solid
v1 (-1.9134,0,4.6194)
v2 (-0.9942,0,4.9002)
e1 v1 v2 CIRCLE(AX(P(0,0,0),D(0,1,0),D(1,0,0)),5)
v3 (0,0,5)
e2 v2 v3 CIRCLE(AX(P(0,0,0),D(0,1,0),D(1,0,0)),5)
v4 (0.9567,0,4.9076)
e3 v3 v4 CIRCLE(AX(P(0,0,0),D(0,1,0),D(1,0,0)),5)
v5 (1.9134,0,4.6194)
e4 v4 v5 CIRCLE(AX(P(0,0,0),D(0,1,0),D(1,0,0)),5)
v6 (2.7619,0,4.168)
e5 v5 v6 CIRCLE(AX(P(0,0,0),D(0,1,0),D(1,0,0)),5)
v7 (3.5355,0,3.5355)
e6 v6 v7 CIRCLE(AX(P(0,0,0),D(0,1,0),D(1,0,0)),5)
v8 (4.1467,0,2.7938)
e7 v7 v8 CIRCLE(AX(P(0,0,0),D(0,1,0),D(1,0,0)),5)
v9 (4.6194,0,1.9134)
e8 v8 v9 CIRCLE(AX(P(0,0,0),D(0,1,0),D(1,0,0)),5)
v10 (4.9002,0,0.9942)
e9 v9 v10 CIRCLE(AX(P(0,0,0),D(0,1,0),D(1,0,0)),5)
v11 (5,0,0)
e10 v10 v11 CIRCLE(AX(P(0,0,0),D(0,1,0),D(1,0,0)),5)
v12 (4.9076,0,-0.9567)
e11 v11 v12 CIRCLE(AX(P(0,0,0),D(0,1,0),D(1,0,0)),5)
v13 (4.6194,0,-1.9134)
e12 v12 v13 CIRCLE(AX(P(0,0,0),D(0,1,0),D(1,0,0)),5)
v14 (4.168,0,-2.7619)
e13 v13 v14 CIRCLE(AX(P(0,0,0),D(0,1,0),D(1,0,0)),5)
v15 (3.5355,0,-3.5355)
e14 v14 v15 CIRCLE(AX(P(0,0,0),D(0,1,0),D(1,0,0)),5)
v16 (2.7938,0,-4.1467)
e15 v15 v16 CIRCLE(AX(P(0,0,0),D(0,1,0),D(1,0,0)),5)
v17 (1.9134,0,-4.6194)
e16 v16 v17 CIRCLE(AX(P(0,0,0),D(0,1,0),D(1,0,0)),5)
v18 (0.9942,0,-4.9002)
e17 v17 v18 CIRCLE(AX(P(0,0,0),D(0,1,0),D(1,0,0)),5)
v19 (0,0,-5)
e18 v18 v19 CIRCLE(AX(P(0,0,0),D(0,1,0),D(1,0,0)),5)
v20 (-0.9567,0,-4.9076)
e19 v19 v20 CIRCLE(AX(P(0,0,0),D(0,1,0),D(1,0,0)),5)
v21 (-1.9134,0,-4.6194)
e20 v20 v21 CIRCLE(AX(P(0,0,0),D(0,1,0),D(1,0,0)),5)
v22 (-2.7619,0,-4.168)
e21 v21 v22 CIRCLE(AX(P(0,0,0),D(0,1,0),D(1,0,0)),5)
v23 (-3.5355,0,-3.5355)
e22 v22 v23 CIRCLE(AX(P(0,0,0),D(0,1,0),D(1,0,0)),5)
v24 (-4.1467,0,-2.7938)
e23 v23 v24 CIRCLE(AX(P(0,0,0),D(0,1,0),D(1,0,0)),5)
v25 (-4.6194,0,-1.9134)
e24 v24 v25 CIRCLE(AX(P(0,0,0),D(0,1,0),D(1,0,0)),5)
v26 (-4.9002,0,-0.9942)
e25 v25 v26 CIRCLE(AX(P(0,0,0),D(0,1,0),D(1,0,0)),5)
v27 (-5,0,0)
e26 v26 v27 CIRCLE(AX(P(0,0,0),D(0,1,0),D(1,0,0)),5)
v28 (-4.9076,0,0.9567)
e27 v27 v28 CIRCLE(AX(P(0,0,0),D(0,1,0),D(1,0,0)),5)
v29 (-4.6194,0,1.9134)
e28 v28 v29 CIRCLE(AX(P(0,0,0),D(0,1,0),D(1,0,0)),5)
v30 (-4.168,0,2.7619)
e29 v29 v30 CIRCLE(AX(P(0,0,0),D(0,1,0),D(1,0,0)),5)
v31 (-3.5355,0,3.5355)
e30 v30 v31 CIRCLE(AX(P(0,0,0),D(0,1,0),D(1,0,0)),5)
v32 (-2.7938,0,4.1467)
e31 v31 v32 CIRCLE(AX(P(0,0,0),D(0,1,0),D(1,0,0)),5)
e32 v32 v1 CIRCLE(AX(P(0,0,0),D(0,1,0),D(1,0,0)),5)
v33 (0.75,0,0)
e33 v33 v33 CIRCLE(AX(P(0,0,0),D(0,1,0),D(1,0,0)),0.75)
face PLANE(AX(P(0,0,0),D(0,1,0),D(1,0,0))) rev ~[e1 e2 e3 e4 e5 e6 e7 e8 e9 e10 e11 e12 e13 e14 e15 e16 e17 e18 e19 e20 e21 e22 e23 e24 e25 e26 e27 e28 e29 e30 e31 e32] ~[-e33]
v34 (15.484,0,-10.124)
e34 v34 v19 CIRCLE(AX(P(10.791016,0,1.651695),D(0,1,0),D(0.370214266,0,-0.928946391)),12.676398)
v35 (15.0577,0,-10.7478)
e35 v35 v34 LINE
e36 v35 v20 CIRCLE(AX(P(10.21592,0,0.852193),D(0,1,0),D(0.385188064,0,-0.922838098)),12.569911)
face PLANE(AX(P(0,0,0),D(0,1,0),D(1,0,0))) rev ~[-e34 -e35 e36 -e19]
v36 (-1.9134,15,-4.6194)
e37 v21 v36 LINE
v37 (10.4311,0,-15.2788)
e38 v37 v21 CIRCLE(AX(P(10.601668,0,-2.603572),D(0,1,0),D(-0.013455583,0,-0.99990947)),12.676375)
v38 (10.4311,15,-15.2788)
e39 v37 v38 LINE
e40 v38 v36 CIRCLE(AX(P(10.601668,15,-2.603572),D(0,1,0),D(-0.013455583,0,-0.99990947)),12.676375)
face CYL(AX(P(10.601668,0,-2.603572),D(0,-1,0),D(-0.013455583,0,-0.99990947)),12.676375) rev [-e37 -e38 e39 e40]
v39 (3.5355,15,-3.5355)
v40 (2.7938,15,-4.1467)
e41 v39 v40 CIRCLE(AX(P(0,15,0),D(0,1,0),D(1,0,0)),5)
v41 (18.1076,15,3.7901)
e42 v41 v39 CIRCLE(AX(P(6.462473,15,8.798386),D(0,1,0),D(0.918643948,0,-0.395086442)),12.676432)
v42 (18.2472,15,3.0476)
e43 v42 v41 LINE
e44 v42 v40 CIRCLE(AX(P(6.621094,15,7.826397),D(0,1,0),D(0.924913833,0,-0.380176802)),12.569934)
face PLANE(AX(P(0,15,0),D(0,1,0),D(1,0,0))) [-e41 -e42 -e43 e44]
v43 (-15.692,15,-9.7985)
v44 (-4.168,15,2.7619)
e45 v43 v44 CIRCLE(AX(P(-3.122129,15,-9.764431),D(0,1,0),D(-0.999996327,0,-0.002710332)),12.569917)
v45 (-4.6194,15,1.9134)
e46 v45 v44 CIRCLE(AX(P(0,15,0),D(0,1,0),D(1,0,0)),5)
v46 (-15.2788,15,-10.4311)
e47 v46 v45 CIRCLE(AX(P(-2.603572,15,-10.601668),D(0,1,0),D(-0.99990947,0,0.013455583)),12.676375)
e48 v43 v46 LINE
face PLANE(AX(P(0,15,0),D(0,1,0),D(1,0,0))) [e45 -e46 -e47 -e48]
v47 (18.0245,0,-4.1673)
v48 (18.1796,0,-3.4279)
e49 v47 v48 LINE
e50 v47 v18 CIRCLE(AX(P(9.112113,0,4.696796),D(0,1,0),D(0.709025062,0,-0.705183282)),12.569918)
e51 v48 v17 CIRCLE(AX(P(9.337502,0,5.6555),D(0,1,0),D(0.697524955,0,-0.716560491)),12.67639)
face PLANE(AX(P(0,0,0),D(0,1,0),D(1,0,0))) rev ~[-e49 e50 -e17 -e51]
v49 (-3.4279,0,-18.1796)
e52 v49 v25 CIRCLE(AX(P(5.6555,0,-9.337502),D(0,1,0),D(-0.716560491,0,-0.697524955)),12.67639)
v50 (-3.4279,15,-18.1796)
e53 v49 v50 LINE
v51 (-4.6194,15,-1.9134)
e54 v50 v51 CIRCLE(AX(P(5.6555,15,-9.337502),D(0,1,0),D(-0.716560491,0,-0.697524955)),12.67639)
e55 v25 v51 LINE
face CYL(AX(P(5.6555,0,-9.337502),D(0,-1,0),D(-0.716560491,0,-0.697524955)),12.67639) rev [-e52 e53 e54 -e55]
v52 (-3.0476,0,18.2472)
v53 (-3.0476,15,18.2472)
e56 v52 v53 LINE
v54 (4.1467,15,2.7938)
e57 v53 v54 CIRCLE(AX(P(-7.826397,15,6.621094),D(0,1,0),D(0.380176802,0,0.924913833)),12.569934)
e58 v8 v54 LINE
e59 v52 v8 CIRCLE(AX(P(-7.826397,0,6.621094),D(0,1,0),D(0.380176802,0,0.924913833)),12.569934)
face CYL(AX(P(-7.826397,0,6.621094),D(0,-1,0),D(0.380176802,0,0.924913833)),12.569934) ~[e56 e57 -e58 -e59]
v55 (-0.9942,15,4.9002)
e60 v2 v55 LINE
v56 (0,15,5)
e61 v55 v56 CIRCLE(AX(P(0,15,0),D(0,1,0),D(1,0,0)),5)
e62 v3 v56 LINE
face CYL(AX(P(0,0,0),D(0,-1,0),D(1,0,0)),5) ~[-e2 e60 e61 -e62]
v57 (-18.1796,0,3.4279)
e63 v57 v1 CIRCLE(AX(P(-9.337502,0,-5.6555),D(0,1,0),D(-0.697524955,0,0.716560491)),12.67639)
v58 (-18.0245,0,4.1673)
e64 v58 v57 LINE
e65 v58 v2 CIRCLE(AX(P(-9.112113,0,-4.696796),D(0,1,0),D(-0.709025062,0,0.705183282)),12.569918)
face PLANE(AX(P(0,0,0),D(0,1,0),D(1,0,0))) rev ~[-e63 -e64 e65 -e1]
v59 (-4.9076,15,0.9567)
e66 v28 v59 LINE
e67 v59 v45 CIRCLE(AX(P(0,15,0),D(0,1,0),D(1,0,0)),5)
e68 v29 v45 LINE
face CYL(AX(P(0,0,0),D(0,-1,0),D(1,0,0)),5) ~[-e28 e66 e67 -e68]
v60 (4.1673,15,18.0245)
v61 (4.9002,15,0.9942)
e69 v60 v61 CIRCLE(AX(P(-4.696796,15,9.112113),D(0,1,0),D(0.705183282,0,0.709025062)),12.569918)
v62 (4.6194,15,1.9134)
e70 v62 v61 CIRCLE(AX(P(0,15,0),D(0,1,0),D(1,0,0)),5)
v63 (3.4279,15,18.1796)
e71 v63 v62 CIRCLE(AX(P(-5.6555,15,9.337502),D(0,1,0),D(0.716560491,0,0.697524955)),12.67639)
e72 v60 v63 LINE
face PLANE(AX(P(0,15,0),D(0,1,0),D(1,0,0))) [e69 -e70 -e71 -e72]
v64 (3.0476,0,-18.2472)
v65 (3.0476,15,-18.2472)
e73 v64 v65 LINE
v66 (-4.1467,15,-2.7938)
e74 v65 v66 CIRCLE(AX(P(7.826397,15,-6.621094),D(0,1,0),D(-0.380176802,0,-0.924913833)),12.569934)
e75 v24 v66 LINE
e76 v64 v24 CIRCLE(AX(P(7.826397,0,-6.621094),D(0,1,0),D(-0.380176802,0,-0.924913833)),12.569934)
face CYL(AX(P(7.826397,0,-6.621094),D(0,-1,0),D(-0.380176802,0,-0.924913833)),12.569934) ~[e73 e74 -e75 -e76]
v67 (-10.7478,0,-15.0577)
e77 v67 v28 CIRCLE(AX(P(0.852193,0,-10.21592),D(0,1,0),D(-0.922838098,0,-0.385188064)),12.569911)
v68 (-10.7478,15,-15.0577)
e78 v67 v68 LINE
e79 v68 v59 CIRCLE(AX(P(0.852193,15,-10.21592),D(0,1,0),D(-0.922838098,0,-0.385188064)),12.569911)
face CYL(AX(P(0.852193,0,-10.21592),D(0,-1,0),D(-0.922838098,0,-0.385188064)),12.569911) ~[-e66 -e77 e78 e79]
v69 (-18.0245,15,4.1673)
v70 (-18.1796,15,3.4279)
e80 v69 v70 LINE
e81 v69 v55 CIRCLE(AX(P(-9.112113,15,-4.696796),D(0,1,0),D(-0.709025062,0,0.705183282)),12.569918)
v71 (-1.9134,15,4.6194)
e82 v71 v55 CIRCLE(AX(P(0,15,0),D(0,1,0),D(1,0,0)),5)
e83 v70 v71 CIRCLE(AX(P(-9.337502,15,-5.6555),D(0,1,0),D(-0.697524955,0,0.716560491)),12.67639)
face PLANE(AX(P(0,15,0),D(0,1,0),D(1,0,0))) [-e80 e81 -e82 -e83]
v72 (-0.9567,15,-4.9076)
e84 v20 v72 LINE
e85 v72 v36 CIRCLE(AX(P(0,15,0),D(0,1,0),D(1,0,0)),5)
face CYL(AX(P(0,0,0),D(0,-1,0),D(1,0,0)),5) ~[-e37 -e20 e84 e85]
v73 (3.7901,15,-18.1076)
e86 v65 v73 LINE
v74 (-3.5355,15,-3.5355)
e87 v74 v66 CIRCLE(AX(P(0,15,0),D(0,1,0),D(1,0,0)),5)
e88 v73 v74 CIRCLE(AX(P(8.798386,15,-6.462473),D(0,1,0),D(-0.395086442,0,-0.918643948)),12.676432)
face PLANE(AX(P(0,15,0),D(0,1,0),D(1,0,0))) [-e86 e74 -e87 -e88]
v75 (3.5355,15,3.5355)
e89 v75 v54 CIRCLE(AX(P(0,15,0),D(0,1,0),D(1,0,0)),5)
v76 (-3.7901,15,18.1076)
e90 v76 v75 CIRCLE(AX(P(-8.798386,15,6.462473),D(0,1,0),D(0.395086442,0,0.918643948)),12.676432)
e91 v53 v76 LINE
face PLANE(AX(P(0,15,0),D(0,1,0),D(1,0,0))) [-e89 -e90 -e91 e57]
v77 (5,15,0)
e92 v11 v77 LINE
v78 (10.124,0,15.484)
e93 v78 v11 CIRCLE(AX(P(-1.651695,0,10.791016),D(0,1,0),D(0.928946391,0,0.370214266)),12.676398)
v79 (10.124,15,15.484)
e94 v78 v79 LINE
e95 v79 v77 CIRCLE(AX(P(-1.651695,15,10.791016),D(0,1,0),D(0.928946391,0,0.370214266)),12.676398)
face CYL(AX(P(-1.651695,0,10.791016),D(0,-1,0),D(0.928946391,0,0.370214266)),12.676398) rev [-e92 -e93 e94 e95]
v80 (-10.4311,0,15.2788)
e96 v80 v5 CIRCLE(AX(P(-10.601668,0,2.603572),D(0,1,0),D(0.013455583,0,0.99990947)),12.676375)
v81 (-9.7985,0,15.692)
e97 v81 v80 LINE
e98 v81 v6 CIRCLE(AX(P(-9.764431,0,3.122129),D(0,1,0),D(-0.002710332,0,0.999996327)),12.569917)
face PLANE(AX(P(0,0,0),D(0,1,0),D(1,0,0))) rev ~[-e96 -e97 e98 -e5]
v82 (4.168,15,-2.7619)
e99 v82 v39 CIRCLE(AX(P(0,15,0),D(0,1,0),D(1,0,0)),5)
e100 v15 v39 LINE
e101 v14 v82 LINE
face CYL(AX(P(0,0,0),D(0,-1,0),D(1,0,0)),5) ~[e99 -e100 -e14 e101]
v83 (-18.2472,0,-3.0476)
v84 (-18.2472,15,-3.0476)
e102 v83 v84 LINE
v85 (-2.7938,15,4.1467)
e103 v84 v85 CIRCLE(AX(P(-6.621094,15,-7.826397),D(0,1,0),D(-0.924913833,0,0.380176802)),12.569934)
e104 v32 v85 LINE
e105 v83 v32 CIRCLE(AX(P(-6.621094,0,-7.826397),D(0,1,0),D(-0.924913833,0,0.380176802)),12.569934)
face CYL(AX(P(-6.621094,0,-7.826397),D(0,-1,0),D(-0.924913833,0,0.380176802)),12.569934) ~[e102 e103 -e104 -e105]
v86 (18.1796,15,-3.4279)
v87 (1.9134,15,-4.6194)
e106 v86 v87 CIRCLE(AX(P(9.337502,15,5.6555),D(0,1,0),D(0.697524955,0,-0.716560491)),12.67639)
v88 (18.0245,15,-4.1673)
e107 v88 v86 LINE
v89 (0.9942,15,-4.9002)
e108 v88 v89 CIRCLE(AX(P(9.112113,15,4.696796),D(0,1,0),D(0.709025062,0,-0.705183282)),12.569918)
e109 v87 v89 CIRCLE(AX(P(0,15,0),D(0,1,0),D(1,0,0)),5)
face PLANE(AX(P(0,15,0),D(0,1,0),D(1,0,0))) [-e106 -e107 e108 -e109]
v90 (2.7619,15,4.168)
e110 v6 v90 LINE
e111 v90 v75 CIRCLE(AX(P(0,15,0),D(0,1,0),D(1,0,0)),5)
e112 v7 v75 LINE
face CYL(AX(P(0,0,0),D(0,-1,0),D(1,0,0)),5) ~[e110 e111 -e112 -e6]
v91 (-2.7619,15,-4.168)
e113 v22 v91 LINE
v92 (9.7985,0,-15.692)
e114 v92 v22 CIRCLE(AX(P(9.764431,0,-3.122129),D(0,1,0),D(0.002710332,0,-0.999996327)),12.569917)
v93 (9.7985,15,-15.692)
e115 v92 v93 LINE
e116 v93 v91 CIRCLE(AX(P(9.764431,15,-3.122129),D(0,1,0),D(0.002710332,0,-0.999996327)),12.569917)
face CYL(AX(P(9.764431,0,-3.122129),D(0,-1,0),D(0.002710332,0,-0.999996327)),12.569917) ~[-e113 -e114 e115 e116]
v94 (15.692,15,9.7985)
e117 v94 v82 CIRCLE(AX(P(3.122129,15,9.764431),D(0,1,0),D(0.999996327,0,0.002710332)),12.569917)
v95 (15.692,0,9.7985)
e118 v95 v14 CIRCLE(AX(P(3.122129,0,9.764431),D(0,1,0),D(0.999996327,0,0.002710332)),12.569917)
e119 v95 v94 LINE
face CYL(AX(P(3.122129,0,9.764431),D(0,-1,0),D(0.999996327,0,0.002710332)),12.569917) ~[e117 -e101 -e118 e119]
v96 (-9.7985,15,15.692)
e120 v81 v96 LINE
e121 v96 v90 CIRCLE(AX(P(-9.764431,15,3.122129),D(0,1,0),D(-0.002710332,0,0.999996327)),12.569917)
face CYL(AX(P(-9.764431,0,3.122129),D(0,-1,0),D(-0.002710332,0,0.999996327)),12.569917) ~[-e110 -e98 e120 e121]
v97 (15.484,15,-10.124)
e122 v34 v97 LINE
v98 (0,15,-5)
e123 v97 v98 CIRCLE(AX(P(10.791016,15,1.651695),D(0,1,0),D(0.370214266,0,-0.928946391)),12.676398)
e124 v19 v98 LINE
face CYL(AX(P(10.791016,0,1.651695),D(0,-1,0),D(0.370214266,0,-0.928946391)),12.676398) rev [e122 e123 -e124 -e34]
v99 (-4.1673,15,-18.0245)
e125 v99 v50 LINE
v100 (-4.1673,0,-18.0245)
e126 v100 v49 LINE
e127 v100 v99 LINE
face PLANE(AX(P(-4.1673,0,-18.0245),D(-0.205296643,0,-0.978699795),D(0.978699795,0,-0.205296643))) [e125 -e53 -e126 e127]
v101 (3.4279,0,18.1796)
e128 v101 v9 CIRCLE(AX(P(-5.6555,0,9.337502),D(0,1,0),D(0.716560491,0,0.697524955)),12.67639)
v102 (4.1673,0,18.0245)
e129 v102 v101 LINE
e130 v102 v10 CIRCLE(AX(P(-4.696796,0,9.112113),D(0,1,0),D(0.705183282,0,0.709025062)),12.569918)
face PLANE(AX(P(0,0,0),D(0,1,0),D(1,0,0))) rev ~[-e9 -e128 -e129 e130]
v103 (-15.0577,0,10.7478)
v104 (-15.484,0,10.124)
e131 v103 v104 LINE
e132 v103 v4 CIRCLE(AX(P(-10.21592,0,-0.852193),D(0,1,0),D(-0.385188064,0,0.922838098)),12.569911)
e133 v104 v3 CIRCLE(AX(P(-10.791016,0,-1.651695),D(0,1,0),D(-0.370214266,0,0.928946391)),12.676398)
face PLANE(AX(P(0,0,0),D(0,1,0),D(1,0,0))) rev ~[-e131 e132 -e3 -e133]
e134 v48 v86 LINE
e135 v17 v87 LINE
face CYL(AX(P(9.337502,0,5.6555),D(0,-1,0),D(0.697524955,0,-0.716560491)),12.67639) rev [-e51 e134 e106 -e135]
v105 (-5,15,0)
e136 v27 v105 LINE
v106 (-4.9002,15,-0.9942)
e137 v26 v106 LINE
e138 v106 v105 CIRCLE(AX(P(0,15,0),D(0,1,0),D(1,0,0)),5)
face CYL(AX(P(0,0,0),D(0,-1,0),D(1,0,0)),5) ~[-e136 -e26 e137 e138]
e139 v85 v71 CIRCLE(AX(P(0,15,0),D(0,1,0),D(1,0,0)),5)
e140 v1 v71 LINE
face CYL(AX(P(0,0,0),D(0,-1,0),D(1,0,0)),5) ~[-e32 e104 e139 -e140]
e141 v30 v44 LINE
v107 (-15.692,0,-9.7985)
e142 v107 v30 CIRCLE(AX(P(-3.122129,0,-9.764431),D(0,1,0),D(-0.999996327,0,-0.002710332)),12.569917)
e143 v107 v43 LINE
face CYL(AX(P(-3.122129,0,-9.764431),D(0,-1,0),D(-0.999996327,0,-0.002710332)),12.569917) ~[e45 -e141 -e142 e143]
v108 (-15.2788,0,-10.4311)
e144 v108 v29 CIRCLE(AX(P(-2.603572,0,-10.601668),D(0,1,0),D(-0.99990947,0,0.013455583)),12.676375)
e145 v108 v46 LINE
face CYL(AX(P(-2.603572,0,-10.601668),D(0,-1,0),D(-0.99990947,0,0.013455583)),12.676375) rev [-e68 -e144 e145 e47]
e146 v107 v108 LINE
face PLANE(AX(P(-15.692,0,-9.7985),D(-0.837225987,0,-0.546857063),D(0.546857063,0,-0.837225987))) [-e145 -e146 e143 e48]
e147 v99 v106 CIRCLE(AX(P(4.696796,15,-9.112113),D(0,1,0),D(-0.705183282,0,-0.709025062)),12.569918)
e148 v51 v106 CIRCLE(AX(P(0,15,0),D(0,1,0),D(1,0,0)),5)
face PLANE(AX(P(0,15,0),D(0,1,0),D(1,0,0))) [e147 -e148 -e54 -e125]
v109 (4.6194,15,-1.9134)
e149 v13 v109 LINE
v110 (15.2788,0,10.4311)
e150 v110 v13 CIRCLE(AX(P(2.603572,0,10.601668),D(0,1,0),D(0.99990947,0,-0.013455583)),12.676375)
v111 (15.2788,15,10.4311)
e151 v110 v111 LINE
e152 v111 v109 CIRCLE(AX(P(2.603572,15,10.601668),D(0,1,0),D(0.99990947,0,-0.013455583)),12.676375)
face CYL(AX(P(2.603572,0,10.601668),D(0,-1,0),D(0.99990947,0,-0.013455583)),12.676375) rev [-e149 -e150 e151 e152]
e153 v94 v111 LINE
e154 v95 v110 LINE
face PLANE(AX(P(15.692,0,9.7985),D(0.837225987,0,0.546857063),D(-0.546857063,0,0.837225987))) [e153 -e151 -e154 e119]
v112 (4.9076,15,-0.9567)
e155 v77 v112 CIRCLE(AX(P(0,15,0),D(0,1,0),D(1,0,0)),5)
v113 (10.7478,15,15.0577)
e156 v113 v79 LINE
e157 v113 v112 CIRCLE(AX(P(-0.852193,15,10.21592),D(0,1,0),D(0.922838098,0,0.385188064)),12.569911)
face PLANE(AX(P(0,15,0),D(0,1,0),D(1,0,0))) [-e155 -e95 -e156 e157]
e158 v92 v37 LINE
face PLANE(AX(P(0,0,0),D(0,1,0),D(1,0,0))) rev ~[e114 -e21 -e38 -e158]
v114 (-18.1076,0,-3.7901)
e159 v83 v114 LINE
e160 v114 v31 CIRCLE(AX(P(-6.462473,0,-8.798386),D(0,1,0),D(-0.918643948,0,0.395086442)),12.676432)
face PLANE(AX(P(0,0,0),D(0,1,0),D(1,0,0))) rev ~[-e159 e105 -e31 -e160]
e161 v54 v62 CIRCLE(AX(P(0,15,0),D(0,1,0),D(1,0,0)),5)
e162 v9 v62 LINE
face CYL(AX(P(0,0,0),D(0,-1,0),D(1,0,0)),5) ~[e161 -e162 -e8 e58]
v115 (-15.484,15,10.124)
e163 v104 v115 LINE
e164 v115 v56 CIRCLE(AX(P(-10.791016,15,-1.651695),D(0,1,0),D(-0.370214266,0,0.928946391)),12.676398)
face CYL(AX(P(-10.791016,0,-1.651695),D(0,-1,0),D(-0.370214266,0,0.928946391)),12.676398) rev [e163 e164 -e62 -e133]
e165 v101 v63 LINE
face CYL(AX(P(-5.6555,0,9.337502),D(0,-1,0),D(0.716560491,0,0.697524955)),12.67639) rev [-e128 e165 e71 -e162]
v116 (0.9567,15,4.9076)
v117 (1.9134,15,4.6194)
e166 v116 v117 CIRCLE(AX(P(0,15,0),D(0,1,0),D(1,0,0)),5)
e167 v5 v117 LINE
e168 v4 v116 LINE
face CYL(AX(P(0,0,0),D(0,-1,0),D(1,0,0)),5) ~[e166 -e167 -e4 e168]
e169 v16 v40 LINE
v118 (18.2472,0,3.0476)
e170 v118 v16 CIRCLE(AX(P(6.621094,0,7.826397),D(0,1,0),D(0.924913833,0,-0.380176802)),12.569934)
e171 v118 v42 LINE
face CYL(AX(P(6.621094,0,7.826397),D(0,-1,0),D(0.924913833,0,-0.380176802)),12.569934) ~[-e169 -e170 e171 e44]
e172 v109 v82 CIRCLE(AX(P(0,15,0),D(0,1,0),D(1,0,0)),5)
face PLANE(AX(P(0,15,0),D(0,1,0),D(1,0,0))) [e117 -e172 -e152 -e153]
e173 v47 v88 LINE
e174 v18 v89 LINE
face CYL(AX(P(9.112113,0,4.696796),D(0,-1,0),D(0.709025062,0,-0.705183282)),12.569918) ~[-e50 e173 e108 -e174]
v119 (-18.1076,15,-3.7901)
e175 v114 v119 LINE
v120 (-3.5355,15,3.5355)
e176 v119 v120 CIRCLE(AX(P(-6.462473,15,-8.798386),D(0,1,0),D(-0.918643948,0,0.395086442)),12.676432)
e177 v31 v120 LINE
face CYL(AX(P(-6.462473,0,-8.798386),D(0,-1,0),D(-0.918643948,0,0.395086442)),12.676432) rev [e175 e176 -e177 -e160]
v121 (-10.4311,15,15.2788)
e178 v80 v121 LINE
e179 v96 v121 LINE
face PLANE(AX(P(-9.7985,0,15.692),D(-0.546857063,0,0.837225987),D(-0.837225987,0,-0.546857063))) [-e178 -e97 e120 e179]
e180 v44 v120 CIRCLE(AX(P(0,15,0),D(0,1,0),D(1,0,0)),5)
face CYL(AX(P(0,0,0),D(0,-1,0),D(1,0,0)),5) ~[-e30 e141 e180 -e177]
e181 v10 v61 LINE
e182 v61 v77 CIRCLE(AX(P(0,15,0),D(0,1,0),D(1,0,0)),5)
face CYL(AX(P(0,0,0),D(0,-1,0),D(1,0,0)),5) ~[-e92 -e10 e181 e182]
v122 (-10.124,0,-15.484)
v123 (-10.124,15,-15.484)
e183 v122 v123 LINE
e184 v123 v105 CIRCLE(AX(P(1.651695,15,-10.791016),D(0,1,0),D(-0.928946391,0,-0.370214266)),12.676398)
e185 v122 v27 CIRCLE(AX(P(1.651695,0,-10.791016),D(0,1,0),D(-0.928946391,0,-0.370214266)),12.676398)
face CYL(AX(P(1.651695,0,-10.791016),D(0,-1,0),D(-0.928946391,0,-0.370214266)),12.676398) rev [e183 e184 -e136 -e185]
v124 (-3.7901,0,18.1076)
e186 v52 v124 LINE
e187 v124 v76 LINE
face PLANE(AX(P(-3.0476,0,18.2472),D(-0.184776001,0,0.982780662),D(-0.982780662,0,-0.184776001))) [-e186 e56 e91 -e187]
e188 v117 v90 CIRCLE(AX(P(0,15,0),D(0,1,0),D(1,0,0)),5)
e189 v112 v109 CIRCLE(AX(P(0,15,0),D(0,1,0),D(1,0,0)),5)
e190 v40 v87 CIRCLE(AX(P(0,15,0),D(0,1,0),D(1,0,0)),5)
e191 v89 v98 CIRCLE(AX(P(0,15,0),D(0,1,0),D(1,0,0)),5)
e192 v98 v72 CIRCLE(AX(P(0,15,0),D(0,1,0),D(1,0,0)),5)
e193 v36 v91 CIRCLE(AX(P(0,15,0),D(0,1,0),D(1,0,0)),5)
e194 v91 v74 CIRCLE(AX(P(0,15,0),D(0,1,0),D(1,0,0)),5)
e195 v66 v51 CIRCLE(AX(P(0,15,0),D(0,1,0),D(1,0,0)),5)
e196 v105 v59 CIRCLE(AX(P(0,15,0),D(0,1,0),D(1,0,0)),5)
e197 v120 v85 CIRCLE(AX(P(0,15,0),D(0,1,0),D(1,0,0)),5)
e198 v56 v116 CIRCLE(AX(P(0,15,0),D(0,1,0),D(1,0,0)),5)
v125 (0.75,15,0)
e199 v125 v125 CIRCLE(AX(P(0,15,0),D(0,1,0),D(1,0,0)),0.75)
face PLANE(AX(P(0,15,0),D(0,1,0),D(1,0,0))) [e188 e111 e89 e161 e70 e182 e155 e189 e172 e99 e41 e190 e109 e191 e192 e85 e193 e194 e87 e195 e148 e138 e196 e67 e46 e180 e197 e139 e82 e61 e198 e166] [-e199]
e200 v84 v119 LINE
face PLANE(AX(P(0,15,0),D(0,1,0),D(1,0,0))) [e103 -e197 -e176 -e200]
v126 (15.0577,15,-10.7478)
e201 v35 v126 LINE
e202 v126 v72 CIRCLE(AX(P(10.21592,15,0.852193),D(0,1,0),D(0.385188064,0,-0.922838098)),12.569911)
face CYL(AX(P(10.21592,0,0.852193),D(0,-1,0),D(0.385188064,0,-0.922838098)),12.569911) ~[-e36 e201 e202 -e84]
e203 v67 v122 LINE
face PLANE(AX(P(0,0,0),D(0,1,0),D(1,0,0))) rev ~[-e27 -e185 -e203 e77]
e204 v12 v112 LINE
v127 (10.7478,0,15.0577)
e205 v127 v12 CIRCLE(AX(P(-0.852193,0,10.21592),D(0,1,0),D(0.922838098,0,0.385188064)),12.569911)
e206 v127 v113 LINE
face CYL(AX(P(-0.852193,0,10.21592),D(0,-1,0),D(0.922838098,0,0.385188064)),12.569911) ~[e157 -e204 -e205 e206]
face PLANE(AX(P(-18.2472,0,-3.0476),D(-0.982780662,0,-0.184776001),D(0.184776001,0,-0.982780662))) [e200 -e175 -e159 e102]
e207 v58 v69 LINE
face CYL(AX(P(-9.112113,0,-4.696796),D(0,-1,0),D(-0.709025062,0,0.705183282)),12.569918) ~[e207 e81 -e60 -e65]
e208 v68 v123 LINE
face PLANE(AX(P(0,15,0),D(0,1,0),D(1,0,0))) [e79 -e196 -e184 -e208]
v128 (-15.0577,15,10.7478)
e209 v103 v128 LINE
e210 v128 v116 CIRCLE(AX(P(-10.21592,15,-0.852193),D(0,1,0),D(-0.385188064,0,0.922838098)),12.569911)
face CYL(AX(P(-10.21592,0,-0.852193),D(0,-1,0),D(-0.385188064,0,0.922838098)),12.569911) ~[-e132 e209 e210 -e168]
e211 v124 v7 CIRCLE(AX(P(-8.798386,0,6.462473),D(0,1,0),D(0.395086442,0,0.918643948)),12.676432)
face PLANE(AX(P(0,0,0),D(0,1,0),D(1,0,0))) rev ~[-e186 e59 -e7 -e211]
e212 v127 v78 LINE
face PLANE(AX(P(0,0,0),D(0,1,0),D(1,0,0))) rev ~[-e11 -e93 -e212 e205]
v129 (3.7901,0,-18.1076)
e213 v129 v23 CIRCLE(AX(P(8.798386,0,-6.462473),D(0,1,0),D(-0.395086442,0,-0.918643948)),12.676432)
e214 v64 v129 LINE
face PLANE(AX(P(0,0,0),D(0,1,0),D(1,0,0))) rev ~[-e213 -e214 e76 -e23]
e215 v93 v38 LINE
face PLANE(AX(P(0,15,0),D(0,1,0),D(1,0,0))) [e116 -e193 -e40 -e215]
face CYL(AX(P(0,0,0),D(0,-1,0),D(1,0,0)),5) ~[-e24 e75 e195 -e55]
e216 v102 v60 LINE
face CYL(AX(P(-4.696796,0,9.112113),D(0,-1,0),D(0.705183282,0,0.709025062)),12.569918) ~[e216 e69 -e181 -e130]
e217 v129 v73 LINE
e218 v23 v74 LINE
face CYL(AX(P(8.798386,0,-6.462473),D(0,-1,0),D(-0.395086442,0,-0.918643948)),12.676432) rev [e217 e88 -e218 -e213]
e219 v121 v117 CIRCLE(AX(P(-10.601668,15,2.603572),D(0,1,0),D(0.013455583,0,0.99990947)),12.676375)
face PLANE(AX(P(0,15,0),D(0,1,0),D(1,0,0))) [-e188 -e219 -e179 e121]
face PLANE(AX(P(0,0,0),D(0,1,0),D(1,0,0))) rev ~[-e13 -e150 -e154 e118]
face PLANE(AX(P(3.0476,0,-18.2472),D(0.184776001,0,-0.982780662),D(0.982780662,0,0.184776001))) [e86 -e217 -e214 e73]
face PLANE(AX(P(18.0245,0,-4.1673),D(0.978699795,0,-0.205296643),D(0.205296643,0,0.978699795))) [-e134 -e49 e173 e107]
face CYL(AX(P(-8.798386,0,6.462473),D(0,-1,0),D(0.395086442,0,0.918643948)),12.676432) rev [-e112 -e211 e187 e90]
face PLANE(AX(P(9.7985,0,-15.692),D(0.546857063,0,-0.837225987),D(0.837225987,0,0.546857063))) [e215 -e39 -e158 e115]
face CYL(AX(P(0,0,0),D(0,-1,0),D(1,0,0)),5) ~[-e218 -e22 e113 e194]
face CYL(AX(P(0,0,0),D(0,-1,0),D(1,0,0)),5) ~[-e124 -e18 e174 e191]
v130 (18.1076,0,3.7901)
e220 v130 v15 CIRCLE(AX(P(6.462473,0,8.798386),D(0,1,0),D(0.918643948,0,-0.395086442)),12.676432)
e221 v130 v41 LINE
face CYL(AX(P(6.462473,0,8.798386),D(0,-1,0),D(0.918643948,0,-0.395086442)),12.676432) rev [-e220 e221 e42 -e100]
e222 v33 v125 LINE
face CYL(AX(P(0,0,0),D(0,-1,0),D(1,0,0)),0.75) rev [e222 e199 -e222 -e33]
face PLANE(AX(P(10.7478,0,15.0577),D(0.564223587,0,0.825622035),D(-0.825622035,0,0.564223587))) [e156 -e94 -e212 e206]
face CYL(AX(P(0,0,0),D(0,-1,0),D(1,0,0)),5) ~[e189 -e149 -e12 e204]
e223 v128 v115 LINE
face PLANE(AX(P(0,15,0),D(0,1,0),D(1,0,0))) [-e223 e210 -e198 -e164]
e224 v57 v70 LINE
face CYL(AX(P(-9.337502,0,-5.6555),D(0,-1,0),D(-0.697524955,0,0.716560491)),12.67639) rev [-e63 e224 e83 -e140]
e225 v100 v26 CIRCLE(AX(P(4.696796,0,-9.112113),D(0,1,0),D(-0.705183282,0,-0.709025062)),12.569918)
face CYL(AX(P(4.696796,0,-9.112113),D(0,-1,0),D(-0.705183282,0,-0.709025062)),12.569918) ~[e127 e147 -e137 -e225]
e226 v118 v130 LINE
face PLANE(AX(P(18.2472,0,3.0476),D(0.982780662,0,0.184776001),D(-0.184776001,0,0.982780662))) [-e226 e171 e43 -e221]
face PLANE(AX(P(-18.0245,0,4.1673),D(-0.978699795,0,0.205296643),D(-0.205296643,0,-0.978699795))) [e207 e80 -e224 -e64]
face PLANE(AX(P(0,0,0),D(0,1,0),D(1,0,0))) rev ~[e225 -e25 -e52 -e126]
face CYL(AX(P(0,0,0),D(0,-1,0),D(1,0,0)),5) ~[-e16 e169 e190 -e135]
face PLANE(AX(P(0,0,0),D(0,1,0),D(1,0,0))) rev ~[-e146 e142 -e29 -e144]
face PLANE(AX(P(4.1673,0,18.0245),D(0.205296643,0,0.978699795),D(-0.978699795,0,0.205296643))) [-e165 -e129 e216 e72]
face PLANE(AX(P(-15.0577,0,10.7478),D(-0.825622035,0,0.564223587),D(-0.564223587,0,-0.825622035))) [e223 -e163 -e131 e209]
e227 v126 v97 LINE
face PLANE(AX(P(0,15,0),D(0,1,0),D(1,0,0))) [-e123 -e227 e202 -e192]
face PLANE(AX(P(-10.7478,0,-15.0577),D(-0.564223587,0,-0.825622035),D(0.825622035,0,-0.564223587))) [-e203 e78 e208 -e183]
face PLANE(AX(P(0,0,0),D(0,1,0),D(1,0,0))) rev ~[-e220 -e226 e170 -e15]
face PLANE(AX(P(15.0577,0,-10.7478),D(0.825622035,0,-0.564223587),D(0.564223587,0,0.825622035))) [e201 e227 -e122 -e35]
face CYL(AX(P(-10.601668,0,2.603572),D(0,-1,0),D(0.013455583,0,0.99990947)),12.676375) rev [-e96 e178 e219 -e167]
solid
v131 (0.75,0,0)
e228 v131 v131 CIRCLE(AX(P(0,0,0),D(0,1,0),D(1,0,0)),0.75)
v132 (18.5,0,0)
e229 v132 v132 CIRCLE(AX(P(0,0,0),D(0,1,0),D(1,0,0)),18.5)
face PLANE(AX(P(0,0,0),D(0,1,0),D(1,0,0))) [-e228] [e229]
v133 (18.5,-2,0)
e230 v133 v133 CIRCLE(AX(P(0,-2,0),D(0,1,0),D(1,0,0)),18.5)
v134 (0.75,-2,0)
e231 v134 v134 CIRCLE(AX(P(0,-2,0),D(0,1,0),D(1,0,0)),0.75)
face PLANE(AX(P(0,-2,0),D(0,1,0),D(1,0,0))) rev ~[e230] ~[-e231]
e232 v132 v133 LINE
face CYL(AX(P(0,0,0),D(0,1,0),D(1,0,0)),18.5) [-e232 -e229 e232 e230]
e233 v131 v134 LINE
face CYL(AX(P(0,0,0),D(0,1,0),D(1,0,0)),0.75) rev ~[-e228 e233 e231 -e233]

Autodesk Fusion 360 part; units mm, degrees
sketch "Sketch1" plane through (0, 0, 0) normal (0, 1, 0) x (1, 0, 0)
  circle A0 centre (0, 0) radius 5
  circle A1 centre (0, 0) radius 18.5
  circle A2 centre (0, 0) radius 0.75
  line L0 (-21, 0) -> (20.3872, 0) construction
  line L1 (0, 20) -> (0, -20) construction
  arc A3 (10.124, -15.484) -> (5, 0) centre (-1.6517, -10.791) ccw
  arc A4 (15.2788, -10.4311) -> (4.6194, 1.9134) centre (2.6036, -10.6017) ccw
  arc A5 (18.1076, -3.7901) -> (3.5355, 3.5355) centre (6.4625, -8.7984) ccw
  arc A6 (18.1796, 3.4279) -> (1.9134, 4.6194) centre (9.3375, -5.6555) ccw
  arc A7 (15.484, 10.124) -> (0, 5) centre (10.791, -1.6517) ccw
  arc A8 (10.4311, 15.2788) -> (-1.9134, 4.6194) centre (10.6017, 2.6036) ccw
  arc A9 (3.7901, 18.1076) -> (-3.5355, 3.5355) centre (8.7984, 6.4625) ccw
  arc A10 (-3.4279, 18.1796) -> (-4.6194, 1.9134) centre (5.6555, 9.3375) ccw
  arc A11 (-10.124, 15.484) -> (-5, 0) centre (1.6517, 10.791) ccw
  arc A12 (-15.2788, 10.4311) -> (-4.6194, -1.9134) centre (-2.6036, 10.6017) ccw
  arc A13 (-18.1076, 3.7901) -> (-3.5355, -3.5355) centre (-6.4625, 8.7984) ccw
  arc A14 (-18.1796, -3.4279) -> (-1.9134, -4.6194) centre (-9.3375, 5.6555) ccw
  arc A15 (-15.484, -10.124) -> (0, -5) centre (-10.791, 1.6517) ccw
  arc A16 (-10.4311, -15.2788) -> (1.9134, -4.6194) centre (-10.6017, -2.6036) ccw
  arc A17 (-3.7901, -18.1076) -> (3.5355, -3.5355) centre (-8.7984, -6.4625) ccw
  arc A18 (3.4279, -18.1796) -> (4.6194, -1.9134) centre (-5.6555, -9.3375) ccw
  arc A19 (10.7478, -15.0577) -> (4.9076, 0.9567) centre (-0.8522, -10.2159) ccw
  line L2 (10.7478, -15.0577) -> (10.124, -15.484)
  arc A20 (15.692, -9.7985) -> (4.168, 2.7619) centre (3.1221, -9.7644) ccw
  line L3 (15.692, -9.7985) -> (15.2788, -10.4311)
  arc A21 (18.2472, -3.0476) -> (2.7938, 4.1467) centre (6.6211, -7.8264) ccw
  line L4 (18.2472, -3.0476) -> (18.1076, -3.7901)
  arc A22 (18.0245, 4.1673) -> (0.9942, 4.9002) centre (9.1122, -4.6968) ccw
  line L5 (18.0245, 4.1673) -> (18.1796, 3.4279)
  arc A23 (15.0577, 10.7478) -> (-0.9567, 4.9076) centre (10.2159, -0.8522) ccw
  line L6 (15.0577, 10.7478) -> (15.484, 10.124)
  arc A24 (9.7985, 15.692) -> (-2.7619, 4.168) centre (9.7644, 3.1221) ccw
  line L7 (9.7985, 15.692) -> (10.4311, 15.2788)
  arc A25 (3.0476, 18.2472) -> (-4.1467, 2.7938) centre (7.8264, 6.6211) ccw
  line L8 (3.0476, 18.2472) -> (3.7901, 18.1076)
  arc A26 (-4.1673, 18.0245) -> (-4.9002, 0.9942) centre (4.6968, 9.1122) ccw
  line L9 (-4.1673, 18.0245) -> (-3.4279, 18.1796)
  arc A27 (-10.7478, 15.0577) -> (-4.9076, -0.9567) centre (0.8522, 10.2159) ccw
  line L10 (-10.7478, 15.0577) -> (-10.124, 15.484)
  arc A28 (-15.692, 9.7985) -> (-4.168, -2.7619) centre (-3.1221, 9.7644) ccw
  line L11 (-15.692, 9.7985) -> (-15.2788, 10.4311)
  arc A29 (-18.2472, 3.0476) -> (-2.7938, -4.1467) centre (-6.6211, 7.8264) ccw
  line L12 (-18.2472, 3.0476) -> (-18.1076, 3.7901)
  arc A30 (-18.0245, -4.1673) -> (-0.9942, -4.9002) centre (-9.1122, 4.6968) ccw
  line L13 (-18.0245, -4.1673) -> (-18.1796, -3.4279)
  arc A31 (-15.0577, -10.7478) -> (0.9567, -4.9076) centre (-10.2159, 0.8522) ccw
  line L14 (-15.0577, -10.7478) -> (-15.484, -10.124)
  arc A32 (-9.7985, -15.692) -> (2.7619, -4.168) centre (-9.7644, -3.1221) ccw
  line L15 (-9.7985, -15.692) -> (-10.4311, -15.2788)
  arc A33 (-3.0476, -18.2472) -> (4.1467, -2.7938) centre (-7.8264, -6.6211) ccw
  line L16 (-3.0476, -18.2472) -> (-3.7901, -18.1076)
  arc A34 (4.1673, -18.0245) -> (4.9002, -0.9942) centre (-4.6968, -9.1122) ccw
  line L17 (4.1673, -18.0245) -> (3.4279, -18.1796)
  dimension "d1" = 10
  dimension "d2" = 37
  dimension "d3" = 1.5
  dimension "d5" = 360
  dimension "d7" = 360
extrude "Extrude2" add sketch "Sketch1" against normal blind 2 contours A0 | A0 A1 A3 A34 | A0 A3 A19 L2 | A0 A1 A4 A19 | A0 A18 A34 L17 | A1 L2 | A0 A4 A20 L3 | A0 A1 A18 A33 | A1 L17 | A0 A1 A5 A20 | A1 L3 | A0 A17 A33 L16 | A0 A5 A21 L4 | A0 A1 A17 A32 | A1 L16 | A0 A1 A6 A21 | A1 L4 | A0 A16 A32 L15 | A0 A6 A22 L5 | A0 A1 A16 A31 | A1 L15 | A0 A1 A7 A22 | A1 L5 | A0 A15 A31 L14 | A0 A7 A23 L6 | A0 A1 A15 A30 | A1 L14 | A0 A1 A8 A23 | A1 L6 | A0 A14 A30 L13 | A0 A8 A24 L7 | A0 A1 A14 A29 | A1 L13 | A0 A1 A9 A24 | A1 L7 | A0 A13 A29 L12 | A0 A9 A25 L8 | A0 A1 A13 A28 | A1 L12 | A0 A1 A10 A25 | A1 L8 | A0 A12 A28 L11 | A0 A10 A26 L9 | A0 A1 A12 A27 | A1 L11 | A0 A1 A11 A26 | A1 L9 | A0 A11 A27 L10 | A1 L10 | A2 makes body 1
extrude "Extrude1" add sketch "Sketch1" along normal blind 15 separate body contours A0 | A0 A3 A19 L2 | A0 A18 A34 L17 | A0 A4 A20 L3 | A0 A17 A33 L16 | A0 A5 A21 L4 | A0 A16 A32 L15 | A0 A6 A22 L5 | A0 A15 A31 L14 | A0 A7 A23 L6 | A0 A14 A30 L13 | A0 A8 A24 L7 | A0 A13 A29 L12 | A0 A9 A25 L8 | A0 A12 A28 L11 | A0 A10 A26 L9 | A0 A11 A27 L10 makes body 2
extrude "Extrude3" cut sketch "Sketch1" against normal blind 2 contours A2 bodies 1
